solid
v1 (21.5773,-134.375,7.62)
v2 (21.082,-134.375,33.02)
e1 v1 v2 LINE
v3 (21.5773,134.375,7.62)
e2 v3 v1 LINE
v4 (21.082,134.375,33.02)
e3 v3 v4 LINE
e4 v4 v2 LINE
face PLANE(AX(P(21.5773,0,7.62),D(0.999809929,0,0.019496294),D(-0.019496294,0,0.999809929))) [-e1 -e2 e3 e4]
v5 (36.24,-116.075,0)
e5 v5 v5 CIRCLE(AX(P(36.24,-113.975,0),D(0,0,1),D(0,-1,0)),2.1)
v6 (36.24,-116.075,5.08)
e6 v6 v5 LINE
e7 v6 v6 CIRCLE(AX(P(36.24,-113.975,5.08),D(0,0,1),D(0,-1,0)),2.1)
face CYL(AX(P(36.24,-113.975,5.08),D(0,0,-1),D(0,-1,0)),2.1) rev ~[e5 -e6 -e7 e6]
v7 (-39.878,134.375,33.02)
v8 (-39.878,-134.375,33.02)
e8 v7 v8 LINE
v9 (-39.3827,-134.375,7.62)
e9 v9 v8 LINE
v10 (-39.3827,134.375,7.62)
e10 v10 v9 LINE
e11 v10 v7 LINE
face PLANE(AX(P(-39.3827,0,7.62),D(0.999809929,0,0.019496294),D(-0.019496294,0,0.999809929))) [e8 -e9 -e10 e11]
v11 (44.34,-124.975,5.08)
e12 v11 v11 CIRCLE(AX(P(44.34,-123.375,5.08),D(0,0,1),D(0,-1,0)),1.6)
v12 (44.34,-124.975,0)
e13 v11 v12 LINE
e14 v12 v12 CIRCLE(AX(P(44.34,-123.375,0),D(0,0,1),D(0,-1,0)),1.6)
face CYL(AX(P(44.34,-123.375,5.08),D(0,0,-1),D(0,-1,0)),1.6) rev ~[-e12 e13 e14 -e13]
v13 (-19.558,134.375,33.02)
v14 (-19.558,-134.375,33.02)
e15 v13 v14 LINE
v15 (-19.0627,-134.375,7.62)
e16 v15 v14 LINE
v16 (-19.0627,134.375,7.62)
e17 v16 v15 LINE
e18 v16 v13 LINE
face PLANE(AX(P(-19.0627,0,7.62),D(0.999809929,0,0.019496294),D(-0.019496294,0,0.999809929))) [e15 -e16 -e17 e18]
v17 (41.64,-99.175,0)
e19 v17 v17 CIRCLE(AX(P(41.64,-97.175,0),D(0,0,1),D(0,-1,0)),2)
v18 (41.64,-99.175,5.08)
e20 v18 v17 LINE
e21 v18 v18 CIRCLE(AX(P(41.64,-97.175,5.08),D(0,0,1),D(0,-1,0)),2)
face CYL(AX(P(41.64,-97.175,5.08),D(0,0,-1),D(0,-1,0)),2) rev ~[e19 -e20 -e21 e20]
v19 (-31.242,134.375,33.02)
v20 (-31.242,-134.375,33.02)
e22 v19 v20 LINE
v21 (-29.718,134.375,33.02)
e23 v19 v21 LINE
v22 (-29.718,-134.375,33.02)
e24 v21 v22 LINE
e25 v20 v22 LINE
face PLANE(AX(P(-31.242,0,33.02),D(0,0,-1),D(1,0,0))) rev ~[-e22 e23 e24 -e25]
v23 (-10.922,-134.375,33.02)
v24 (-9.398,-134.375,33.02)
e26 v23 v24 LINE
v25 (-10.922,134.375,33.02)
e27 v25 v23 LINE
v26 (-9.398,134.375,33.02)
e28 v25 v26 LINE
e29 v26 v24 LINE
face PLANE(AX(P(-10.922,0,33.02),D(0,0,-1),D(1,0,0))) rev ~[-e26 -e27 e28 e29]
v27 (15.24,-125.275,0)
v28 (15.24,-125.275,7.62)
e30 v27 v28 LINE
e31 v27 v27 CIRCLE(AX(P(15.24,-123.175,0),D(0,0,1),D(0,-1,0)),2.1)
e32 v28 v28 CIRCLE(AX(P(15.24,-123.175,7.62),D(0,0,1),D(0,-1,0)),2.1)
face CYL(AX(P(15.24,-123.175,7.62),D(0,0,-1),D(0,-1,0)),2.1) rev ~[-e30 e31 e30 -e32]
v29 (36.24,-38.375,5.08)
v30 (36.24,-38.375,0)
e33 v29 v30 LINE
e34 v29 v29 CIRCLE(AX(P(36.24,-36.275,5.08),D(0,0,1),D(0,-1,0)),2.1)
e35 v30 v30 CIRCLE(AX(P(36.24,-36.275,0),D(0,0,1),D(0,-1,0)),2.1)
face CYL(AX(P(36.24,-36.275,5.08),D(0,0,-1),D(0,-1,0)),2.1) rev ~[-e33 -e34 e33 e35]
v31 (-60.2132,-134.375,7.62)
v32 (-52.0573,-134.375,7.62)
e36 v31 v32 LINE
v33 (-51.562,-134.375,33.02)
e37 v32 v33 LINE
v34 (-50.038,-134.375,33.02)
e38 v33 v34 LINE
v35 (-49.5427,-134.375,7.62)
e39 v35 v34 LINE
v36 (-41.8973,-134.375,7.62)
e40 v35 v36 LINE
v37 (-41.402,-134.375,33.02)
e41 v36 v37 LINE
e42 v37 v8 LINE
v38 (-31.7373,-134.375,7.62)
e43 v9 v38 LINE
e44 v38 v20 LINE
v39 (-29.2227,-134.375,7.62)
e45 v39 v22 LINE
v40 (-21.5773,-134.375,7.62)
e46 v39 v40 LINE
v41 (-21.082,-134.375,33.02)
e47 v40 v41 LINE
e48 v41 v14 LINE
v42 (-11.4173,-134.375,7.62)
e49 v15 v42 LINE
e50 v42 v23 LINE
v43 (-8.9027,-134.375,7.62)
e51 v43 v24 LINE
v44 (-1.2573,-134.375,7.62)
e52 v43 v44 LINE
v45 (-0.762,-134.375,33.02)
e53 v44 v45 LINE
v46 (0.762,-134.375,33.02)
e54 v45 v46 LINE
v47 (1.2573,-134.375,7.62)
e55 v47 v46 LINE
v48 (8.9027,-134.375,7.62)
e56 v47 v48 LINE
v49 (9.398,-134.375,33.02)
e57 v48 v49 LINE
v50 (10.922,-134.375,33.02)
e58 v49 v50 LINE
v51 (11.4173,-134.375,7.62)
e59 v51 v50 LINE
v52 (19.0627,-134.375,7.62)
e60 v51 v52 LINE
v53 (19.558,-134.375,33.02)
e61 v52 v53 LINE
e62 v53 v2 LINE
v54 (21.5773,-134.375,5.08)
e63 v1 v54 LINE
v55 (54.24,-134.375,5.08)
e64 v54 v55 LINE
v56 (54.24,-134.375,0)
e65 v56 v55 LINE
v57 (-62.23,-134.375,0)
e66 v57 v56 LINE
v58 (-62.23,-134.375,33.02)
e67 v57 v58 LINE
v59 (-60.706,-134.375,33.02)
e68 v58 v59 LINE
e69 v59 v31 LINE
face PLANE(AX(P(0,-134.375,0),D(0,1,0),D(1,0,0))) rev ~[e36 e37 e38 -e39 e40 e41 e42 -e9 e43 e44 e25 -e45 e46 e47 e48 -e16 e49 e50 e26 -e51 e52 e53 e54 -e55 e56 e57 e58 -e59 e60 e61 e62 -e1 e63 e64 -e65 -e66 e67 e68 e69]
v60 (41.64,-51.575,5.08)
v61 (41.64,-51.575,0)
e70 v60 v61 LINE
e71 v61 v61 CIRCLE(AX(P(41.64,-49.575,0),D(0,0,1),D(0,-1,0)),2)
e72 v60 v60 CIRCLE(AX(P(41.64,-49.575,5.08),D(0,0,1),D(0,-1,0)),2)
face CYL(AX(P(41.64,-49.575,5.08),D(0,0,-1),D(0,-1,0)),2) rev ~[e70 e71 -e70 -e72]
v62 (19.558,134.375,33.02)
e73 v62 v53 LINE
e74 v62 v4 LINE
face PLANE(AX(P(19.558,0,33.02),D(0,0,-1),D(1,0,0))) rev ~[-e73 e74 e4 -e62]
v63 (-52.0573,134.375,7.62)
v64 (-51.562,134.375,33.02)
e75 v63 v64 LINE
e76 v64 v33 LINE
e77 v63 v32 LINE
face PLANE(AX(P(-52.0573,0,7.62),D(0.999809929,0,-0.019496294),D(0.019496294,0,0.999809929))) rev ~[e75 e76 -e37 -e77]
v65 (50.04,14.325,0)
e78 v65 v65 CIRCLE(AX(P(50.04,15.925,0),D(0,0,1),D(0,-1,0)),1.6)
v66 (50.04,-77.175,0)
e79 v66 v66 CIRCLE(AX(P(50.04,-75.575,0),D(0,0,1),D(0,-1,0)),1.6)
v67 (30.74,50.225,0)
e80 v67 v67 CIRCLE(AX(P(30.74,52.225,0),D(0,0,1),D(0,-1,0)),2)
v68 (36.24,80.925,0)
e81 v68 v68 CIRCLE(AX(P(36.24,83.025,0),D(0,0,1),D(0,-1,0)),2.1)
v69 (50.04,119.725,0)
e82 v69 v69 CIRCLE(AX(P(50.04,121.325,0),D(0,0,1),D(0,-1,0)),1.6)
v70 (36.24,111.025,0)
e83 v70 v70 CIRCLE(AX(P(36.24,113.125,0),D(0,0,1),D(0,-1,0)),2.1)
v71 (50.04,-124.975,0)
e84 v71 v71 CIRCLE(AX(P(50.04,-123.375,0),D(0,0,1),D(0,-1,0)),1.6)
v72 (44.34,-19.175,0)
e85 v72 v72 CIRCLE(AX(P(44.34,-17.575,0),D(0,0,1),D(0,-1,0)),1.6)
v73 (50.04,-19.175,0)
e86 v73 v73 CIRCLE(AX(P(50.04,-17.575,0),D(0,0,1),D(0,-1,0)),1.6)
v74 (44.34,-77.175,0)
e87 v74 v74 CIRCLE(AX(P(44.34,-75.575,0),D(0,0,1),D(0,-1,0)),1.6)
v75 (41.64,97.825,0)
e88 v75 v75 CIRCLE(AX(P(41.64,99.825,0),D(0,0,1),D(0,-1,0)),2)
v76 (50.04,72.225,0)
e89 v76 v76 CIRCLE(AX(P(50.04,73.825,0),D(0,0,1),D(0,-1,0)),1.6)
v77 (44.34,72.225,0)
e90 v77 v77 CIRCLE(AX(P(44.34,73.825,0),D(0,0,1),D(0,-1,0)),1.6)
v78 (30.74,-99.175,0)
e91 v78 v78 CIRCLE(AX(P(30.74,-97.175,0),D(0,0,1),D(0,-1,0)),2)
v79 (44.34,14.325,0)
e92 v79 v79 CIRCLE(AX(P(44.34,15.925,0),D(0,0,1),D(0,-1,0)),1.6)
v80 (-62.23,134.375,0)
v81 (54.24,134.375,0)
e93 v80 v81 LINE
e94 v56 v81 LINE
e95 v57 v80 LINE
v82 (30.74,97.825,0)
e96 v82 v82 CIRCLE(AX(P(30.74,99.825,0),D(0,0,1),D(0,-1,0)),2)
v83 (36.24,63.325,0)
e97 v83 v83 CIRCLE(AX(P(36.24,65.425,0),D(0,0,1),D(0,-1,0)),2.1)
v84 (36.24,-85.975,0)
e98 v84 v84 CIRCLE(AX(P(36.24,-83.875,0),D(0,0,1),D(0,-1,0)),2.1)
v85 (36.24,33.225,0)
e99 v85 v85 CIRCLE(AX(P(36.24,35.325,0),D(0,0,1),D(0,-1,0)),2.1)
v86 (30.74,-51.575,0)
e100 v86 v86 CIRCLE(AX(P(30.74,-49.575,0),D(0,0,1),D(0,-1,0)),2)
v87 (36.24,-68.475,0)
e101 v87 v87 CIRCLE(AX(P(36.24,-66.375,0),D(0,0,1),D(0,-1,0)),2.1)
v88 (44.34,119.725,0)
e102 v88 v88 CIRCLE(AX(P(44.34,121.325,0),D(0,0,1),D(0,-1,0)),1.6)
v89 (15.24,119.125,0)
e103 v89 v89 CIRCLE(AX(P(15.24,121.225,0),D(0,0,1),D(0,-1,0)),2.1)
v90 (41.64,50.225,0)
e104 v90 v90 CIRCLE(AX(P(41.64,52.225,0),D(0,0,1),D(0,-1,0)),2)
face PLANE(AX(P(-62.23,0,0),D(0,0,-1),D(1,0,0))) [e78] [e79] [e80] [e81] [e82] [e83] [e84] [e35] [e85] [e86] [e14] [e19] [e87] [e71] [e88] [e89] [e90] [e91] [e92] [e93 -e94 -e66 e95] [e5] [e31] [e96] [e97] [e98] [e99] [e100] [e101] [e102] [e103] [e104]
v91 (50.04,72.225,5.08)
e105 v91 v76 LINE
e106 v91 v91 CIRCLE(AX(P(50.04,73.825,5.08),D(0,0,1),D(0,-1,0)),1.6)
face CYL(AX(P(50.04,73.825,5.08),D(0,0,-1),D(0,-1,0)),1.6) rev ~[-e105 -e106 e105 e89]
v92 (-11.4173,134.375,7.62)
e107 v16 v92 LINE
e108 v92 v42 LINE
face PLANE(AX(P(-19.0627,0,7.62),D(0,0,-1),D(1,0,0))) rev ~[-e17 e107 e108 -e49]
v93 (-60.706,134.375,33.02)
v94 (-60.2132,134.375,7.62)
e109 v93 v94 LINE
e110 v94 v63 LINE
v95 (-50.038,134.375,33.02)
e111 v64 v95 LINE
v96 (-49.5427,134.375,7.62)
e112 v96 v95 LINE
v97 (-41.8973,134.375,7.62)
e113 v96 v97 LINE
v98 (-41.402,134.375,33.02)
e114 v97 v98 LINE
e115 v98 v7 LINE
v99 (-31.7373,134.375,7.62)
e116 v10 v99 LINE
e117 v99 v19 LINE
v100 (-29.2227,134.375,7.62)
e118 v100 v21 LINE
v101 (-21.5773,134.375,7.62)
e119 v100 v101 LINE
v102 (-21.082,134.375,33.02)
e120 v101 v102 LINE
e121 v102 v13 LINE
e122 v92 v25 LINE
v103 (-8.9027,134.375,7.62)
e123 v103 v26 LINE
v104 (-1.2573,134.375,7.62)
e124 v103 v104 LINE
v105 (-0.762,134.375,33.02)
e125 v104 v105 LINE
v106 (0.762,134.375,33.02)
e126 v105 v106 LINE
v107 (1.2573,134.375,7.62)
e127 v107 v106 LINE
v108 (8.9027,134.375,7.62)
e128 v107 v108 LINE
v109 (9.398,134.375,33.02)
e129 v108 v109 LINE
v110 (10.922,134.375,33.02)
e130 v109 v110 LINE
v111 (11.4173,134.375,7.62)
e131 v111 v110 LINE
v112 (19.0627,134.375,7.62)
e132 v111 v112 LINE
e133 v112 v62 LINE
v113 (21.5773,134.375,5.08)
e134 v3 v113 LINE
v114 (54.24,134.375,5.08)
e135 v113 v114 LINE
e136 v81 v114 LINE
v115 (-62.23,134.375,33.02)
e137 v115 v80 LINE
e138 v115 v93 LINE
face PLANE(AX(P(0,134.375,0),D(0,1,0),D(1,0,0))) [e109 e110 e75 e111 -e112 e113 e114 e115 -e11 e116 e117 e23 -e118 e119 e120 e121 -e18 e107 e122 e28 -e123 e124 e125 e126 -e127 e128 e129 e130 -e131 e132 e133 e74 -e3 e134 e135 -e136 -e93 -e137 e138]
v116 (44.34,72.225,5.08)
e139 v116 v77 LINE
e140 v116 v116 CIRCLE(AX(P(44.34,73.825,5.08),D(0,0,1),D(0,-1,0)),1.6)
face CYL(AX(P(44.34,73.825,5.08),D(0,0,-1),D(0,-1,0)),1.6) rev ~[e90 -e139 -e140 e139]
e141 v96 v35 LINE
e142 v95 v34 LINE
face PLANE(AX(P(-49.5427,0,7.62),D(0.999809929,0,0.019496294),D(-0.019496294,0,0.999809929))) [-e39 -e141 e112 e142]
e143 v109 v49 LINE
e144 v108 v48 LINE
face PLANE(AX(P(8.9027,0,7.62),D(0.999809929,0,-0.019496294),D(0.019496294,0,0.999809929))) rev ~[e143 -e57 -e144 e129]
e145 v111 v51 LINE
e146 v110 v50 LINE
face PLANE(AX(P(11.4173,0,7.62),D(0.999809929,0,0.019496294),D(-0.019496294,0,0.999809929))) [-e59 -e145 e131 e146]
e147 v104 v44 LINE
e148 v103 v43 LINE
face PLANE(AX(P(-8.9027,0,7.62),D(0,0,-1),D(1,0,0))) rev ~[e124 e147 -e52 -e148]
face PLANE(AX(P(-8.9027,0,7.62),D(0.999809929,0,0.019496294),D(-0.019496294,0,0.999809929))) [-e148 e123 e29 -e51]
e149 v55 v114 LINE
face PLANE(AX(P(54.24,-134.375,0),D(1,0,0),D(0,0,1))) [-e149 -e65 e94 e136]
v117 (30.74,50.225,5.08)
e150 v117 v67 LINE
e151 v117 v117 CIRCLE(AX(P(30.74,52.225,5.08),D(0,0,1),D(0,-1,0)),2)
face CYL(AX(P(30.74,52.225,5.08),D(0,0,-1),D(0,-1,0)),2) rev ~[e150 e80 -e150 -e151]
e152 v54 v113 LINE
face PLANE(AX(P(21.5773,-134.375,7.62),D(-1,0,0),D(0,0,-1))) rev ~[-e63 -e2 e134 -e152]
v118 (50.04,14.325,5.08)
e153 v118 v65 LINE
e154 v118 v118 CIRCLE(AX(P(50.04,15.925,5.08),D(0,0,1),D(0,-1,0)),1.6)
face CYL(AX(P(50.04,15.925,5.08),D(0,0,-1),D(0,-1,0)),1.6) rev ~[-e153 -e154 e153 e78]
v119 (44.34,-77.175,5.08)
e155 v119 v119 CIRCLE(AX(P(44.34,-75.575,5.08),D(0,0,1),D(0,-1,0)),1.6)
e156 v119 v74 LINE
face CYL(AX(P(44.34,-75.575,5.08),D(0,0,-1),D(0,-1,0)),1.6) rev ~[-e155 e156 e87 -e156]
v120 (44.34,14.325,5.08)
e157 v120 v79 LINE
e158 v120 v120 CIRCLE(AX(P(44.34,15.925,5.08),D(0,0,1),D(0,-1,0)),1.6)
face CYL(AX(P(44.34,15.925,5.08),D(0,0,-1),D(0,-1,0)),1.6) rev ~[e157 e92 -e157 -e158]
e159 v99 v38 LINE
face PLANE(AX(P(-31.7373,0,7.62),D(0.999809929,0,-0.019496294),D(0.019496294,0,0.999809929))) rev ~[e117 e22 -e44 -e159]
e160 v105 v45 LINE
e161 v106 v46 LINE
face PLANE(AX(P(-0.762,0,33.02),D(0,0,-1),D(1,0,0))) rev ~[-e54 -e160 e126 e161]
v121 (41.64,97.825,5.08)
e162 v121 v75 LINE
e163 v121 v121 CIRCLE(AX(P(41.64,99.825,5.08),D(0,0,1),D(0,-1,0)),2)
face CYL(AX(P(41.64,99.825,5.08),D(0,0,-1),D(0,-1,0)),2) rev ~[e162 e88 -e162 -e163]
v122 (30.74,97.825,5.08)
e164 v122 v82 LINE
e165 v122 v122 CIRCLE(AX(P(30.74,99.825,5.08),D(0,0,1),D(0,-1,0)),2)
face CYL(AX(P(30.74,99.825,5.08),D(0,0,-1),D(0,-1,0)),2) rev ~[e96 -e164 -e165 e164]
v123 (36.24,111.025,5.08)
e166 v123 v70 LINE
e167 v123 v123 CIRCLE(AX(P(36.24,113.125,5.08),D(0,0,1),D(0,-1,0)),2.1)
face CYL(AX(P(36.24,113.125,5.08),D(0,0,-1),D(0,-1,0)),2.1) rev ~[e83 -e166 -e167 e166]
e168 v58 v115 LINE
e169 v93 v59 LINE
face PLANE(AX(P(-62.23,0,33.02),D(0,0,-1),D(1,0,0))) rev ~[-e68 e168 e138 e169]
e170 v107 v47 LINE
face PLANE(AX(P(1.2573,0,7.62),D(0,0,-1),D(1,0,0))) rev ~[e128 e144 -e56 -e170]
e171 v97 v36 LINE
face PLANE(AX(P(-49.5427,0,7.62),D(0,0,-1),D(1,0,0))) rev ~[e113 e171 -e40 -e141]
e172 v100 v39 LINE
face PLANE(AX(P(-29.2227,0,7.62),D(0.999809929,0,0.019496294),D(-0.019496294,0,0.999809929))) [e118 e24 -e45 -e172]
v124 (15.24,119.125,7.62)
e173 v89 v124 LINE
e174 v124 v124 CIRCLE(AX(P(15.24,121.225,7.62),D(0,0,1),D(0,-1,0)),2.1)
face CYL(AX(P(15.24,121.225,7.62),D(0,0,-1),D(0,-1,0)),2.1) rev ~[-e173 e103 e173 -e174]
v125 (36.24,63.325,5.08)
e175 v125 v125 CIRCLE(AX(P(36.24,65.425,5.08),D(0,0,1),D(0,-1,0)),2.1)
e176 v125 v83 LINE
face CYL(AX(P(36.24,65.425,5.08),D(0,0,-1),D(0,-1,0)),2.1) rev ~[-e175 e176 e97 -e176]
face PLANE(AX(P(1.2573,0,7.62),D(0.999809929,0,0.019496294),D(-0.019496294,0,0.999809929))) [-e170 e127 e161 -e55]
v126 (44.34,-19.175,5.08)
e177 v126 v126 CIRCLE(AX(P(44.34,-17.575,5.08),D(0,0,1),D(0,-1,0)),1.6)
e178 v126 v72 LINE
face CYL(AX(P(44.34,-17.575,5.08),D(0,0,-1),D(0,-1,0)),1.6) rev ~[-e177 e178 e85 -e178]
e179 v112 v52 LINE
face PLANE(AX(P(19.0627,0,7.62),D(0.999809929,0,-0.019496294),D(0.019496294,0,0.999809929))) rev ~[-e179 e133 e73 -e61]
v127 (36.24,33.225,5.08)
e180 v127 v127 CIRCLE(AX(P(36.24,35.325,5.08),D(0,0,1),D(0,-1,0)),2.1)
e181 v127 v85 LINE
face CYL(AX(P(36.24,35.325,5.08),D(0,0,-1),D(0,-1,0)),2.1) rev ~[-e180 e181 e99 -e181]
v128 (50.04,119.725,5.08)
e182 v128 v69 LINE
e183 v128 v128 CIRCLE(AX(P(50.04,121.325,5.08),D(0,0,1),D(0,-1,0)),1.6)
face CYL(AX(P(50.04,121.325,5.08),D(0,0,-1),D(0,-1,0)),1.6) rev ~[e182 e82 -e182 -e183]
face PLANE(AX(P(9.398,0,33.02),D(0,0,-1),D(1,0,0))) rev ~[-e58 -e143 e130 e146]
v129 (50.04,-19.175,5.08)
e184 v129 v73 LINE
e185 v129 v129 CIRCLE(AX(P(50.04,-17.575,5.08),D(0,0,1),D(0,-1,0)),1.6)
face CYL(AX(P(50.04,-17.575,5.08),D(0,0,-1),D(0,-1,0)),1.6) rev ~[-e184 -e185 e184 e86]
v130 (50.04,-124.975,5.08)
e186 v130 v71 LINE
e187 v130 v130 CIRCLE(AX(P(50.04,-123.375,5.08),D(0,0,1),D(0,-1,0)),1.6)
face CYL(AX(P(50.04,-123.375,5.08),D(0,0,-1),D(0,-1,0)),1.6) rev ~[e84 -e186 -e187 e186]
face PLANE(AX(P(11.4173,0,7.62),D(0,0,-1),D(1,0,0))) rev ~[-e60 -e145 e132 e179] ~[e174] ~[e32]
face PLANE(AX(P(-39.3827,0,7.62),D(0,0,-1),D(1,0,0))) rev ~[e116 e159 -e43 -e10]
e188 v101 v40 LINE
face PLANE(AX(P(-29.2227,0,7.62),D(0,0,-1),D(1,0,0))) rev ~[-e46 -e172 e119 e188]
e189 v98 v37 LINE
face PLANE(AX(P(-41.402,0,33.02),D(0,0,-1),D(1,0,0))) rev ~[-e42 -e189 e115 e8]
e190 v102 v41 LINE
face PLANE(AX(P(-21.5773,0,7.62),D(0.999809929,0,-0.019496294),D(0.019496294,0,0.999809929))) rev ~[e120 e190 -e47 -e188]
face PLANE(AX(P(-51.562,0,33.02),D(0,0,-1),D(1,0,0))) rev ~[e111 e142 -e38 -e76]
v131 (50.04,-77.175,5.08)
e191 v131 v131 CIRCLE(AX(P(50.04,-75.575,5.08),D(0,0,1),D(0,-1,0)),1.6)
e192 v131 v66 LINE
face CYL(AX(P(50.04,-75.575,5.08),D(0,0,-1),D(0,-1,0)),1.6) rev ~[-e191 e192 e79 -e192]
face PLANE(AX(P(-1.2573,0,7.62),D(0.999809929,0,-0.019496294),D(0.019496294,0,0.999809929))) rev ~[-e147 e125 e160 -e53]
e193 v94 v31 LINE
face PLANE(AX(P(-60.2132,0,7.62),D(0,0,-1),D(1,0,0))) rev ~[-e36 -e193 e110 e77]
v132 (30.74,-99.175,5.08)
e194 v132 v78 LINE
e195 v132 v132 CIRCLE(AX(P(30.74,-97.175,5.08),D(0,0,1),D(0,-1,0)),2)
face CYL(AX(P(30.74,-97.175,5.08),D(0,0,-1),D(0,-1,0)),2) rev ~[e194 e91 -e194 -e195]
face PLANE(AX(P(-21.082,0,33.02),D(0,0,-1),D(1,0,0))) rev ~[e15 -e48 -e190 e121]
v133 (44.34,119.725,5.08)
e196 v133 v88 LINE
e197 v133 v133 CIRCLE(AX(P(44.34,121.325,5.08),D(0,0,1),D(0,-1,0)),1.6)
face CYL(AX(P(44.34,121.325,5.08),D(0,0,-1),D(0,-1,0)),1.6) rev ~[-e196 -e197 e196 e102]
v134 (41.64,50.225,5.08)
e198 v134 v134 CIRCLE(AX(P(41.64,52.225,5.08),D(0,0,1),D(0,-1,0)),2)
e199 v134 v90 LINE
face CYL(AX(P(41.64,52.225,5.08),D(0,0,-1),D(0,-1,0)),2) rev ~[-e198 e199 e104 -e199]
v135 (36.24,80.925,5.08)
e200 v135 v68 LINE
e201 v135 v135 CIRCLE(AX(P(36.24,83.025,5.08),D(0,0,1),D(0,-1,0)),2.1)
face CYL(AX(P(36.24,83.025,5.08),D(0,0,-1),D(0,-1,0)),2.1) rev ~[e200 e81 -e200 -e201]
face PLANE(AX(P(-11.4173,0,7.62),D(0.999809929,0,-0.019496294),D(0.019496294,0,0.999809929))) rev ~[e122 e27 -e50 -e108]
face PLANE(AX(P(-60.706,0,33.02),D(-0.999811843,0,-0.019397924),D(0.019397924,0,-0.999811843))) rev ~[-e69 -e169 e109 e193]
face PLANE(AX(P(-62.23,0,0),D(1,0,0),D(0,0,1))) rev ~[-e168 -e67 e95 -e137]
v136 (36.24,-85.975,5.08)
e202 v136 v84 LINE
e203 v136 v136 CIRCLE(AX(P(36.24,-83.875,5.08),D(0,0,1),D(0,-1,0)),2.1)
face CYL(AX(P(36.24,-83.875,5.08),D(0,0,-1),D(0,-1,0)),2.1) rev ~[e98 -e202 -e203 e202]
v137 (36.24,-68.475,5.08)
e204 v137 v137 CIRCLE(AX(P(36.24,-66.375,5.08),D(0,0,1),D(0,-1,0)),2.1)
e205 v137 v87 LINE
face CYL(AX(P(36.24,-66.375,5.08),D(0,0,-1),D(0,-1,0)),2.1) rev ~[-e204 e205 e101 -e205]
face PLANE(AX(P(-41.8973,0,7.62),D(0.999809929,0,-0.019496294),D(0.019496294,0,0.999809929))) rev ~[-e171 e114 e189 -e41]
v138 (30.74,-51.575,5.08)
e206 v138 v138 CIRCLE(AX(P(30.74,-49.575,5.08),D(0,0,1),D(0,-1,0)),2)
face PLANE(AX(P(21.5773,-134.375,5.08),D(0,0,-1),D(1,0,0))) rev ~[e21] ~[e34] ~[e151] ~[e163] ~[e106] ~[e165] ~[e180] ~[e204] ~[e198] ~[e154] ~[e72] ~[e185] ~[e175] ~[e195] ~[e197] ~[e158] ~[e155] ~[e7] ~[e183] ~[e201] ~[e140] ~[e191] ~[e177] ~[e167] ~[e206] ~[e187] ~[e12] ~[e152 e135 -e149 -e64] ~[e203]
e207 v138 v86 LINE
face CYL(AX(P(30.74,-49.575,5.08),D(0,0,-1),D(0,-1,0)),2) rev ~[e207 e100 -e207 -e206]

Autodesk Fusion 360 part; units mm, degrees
sketch "Sketch1" plane through (0, 0, 0) normal (0, 1, 0) x (1, 0, 0)
  line L0 (-62.23, 0) -> (62.23, 0)
  line L1 (-1.2573, -7.62) -> (1.2573, -7.62) construction
  line L2 (0, -7.62) -> (0, -33.02) construction
  line L3 (-0.762, -33.02) -> (0.762, -33.02)
  line L4 (-1.2573, -7.62) -> (-0.762, -33.02)
  line L5 (1.2573, -7.62) -> (0.762, -33.02)
  line L6 (-51.562, -33.02) -> (-50.038, -33.02)
  line L7 (-49.5427, -7.62) -> (-50.038, -33.02)
  line L8 (-52.0573, -7.62) -> (-51.562, -33.02)
  line L9 (-52.0573, -7.62) -> (-49.5427, -7.62) construction
  line L10 (-50.8, -7.62) -> (-50.8, -33.02) construction
  line L11 (-41.402, -33.02) -> (-39.878, -33.02)
  line L12 (-39.3827, -7.62) -> (-39.878, -33.02)
  line L13 (-41.8973, -7.62) -> (-41.402, -33.02)
  line L14 (-41.8973, -7.62) -> (-39.3827, -7.62) construction
  line L15 (-40.64, -7.62) -> (-40.64, -33.02) construction
  line L16 (-31.242, -33.02) -> (-29.718, -33.02)
  line L17 (-29.2227, -7.62) -> (-29.718, -33.02)
  line L18 (-31.7373, -7.62) -> (-31.242, -33.02)
  line L19 (-31.7373, -7.62) -> (-29.2227, -7.62) construction
  line L20 (-30.48, -7.62) -> (-30.48, -33.02) construction
  line L21 (-21.082, -33.02) -> (-19.558, -33.02)
  line L22 (-19.0627, -7.62) -> (-19.558, -33.02)
  line L23 (-21.5773, -7.62) -> (-21.082, -33.02)
  line L24 (-21.5773, -7.62) -> (-19.0627, -7.62) construction
  line L25 (-20.32, -7.62) -> (-20.32, -33.02) construction
  line L26 (-10.922, -33.02) -> (-9.398, -33.02)
  line L27 (-8.9027, -7.62) -> (-9.398, -33.02)
  line L28 (-11.4173, -7.62) -> (-10.922, -33.02)
  line L29 (-11.4173, -7.62) -> (-8.9027, -7.62) construction
  line L30 (-10.16, -7.62) -> (-10.16, -33.02) construction
  line L31 (9.398, -33.02) -> (10.922, -33.02)
  line L32 (11.4173, -7.62) -> (10.922, -33.02)
  line L33 (8.9027, -7.62) -> (9.398, -33.02)
  line L34 (8.9027, -7.62) -> (11.4173, -7.62) construction
  line L35 (10.16, -7.62) -> (10.16, -33.02) construction
  line L36 (19.558, -33.02) -> (21.082, -33.02)
  line L37 (21.5773, -7.62) -> (21.082, -33.02)
  line L38 (19.0627, -7.62) -> (19.558, -33.02)
  line L39 (19.0627, -7.62) -> (21.5773, -7.62) construction
  line L40 (20.32, -7.62) -> (20.32, -33.02) construction
  line L41 (29.718, -33.02) -> (31.242, -33.02)
  line L42 (31.7373, -7.62) -> (31.242, -33.02)
  line L43 (29.2227, -7.62) -> (29.718, -33.02)
  line L44 (29.2227, -7.62) -> (31.7373, -7.62) construction
  line L45 (30.48, -7.62) -> (30.48, -33.02) construction
  line L46 (39.878, -33.02) -> (41.402, -33.02)
  line L47 (41.8973, -7.62) -> (41.402, -33.02)
  line L48 (39.3827, -7.62) -> (39.878, -33.02)
  line L49 (39.3827, -7.62) -> (41.8973, -7.62) construction
  line L50 (40.64, -7.62) -> (40.64, -33.02) construction
  line L51 (50.038, -33.02) -> (51.562, -33.02)
  line L52 (52.0573, -7.62) -> (51.562, -33.02)
  line L53 (49.5427, -7.62) -> (50.038, -33.02)
  line L54 (49.5427, -7.62) -> (52.0573, -7.62) construction
  line L55 (50.8, -7.62) -> (50.8, -33.02) construction
  line L56 (-62.23, 0) -> (-62.23, -7.62)
  line L57 (62.23, 0) -> (62.23, -7.62)
  line L58 (-62.23, -7.62) -> (-62.23, -33.02)
  line L59 (62.23, -7.62) -> (62.23, -33.02)
  line L60 (-49.5427, -7.62) -> (-41.8973, -7.62)
  line L61 (-39.3827, -7.62) -> (-31.7373, -7.62)
  line L62 (-29.2227, -7.62) -> (-21.5773, -7.62)
  line L63 (-19.0627, -7.62) -> (-11.4173, -7.62)
  line L64 (-8.9027, -7.62) -> (-1.2573, -7.62)
  line L65 (1.2573, -7.62) -> (8.9027, -7.62)
  line L66 (11.4173, -7.62) -> (19.0627, -7.62)
  line L67 (21.5773, -7.62) -> (29.2227, -7.62)
  line L68 (31.7373, -7.62) -> (39.3827, -7.62)
  line L69 (41.8973, -7.62) -> (49.5427, -7.62)
  line L70 (62.23, -33.02) -> (60.706, -33.02)
  line L71 (60.706, -33.02) -> (60.2132, -7.62)
  line L72 (60.2132, -7.62) -> (52.0573, -7.62)
  line L73 (-62.23, -33.02) -> (-60.706, -33.02)
  line L74 (-60.706, -33.02) -> (-60.2132, -7.62)
  line L75 (-60.2132, -7.62) -> (-52.0573, -7.62)
  line L76 (60.2132, -7.62) -> (62.23, -7.62) construction
  line L77 (-60.2132, -7.62) -> (-62.23, -7.62) construction
  dimension "d2" = 124.46
  dimension "d7" = 1.524
  dimension "d8" = 2.5146
  dimension "d10" = 25.4
  dimension "d14" = 10.16
  dimension "d15" = 0
  dimension "d16" = 7.62
  dimension "d17" = 25.4
  dimension "d20" = 2.0168
  dimension "d21" = 1.524
extrude "Extrude1" add sketch "Sketch1" along normal mid plane 268.75
sketch "Sketch2" plane through (0, -134.375, 0) normal (0, -1, 0) x (1, 0, 0)
  line L0 (-62.23, 33.02) -> (-62.23, 0)
  line L1 (-62.23, 0) -> (62.23, 0)
  line L2 (62.23, 0) -> (62.23, 33.02)
  line L3 (62.23, 33.02) -> (60.706, 33.02)
  line L4 (60.706, 33.02) -> (60.2132, 7.62)
  line L5 (60.2132, 7.62) -> (52.0573, 7.62)
  line L6 (52.0573, 7.62) -> (51.562, 33.02)
  line L7 (51.562, 33.02) -> (50.038, 33.02)
  line L8 (50.038, 33.02) -> (49.5427, 7.62)
  line L9 (49.5427, 7.62) -> (41.8973, 7.62)
  line L10 (41.8973, 7.62) -> (41.402, 33.02)
  line L11 (41.402, 33.02) -> (39.878, 33.02)
  line L12 (39.878, 33.02) -> (39.3827, 7.62)
  line L13 (39.3827, 7.62) -> (31.7373, 7.62)
  line L14 (31.7373, 7.62) -> (31.242, 33.02)
  line L15 (31.242, 33.02) -> (29.718, 33.02)
  line L16 (29.718, 33.02) -> (29.2227, 7.62)
  line L17 (29.2227, 7.62) -> (21.5773, 7.62)
  line L18 (21.5773, 7.62) -> (21.082, 33.02)
  line L19 (21.082, 33.02) -> (19.558, 33.02)
  line L20 (19.558, 33.02) -> (19.0627, 7.62)
  line L21 (19.0627, 7.62) -> (11.4173, 7.62)
  line L22 (11.4173, 7.62) -> (10.922, 33.02)
  line L23 (10.922, 33.02) -> (9.398, 33.02)
  line L24 (9.398, 33.02) -> (8.9027, 7.62)
  line L25 (8.9027, 7.62) -> (1.2573, 7.62)
  line L26 (1.2573, 7.62) -> (0.762, 33.02)
  line L27 (0.762, 33.02) -> (-0.762, 33.02)
  line L28 (-0.762, 33.02) -> (-1.2573, 7.62)
  line L29 (-1.2573, 7.62) -> (-8.9027, 7.62)
  line L30 (-8.9027, 7.62) -> (-9.398, 33.02)
  line L31 (-9.398, 33.02) -> (-10.922, 33.02)
  line L32 (-10.922, 33.02) -> (-11.4173, 7.62)
  line L33 (-11.4173, 7.62) -> (-19.0627, 7.62)
  line L34 (-19.0627, 7.62) -> (-19.558, 33.02)
  line L35 (-19.558, 33.02) -> (-21.082, 33.02)
  line L36 (-21.082, 33.02) -> (-21.5773, 7.62)
  line L37 (-21.5773, 7.62) -> (-29.2227, 7.62)
  line L38 (-29.2227, 7.62) -> (-29.718, 33.02)
  line L39 (-29.718, 33.02) -> (-31.242, 33.02)
  line L40 (-31.242, 33.02) -> (-31.7373, 7.62)
  line L41 (-31.7373, 7.62) -> (-39.3827, 7.62)
  line L42 (-39.3827, 7.62) -> (-39.878, 33.02)
  line L43 (-39.878, 33.02) -> (-41.402, 33.02)
  line L44 (-41.402, 33.02) -> (-41.8973, 7.62)
  line L45 (-41.8973, 7.62) -> (-49.5427, 7.62)
  line L46 (-49.5427, 7.62) -> (-50.038, 33.02)
  line L47 (-50.038, 33.02) -> (-51.562, 33.02)
  line L48 (-51.562, 33.02) -> (-52.0573, 7.62)
  line L49 (-52.0573, 7.62) -> (-60.2132, 7.62)
  line L50 (-60.2132, 7.62) -> (-60.706, 33.02)
  line L51 (-60.706, 33.02) -> (-62.23, 33.02)
  line L52 (-62.23, 0) -> (21.5773, 0) construction
  line L53 (21.5773, 0) -> (54.24, 0) construction
  line L54 (54.24, 0) -> (54.24, 5.08) construction
  line L55 (54.24, 5.08) -> (21.5773, 5.08) construction
  line L56 (21.5773, 5.08) -> (21.5773, 0) construction
  line L57 (62.23, 5.08) -> (62.23, 38.1)
  line L58 (62.23, 38.1) -> (21.5773, 38.1)
  line L59 (21.5773, 38.1) -> (21.5773, 5.08)
  line L60 (62.23, 5.08) -> (62.23, 0)
  line L61 (62.23, 0) -> (54.24, 0)
  line L62 (54.24, 0) -> (54.24, 5.08)
  line L63 (62.23, 7.62) -> (62.23, 33.02)
  line L64 (62.23, 0) -> (62.23, 7.62)
  line L65 (21.5773, 5.08) -> (54.24, 5.08)
  line L66 (54.24, 0) -> (62.23, 0)
  line L67 (15.24, 7.62) -> (15.24, 0) construction
  point P0 (-62.23, 7.62)
  point P1 (62.23, 7.62)
  point P2 (60.2132, 7.62)
  point P3 (52.0573, 7.62)
  point P4 (49.5427, 7.62)
  point P5 (41.8973, 7.62)
  point P6 (39.3827, 7.62)
  point P7 (31.7373, 7.62)
  point P8 (29.2227, 7.62)
  dimension "d29" = 5.08
  dimension "d30" = 33.02
  dimension "d79" = 39
extrude "Extrude2" cut sketch "Sketch2" against normal up to surface (268.75 mm away) contours L1 L2 L3 L4 L5 L6 L7 L8 L9 L10 L11 L12 L13 L14 L15 L16 L17 L57 L59 L60 L61 L62 L63 L64 L65 L66
sketch "Sketch3" plane through (0, 0, 5.08) normal (0, 0, 1) x (-1, 0, 0)
  line L0 (-54.24, -134.375) -> (-21.5773, -134.375)
  line L1 (-21.5773, -134.375) -> (-21.5773, 134.375)
  line L2 (-21.5773, 134.375) -> (-54.24, 134.375)
  line L3 (-54.24, 134.375) -> (-54.24, -134.375)
  line L4 (-50.04, 134.375) -> (-50.04, -134.375) construction
  line L5 (-44.34, 134.375) -> (-44.34, -134.375) construction
  line L6 (-41.64, 134.375) -> (-41.64, -134.375) construction
  line L7 (-36.24, 134.375) -> (-36.24, -134.375) construction
  line L8 (-30.74, 134.375) -> (-30.74, -134.375) construction
  line L9 (-15.24, 134.375) -> (-15.24, -134.375) construction
  line L10 (-54.24, -134.375) -> (-21.5773, -134.375)
  line L11 (-21.5773, -134.375) -> (-21.5773, 134.375)
  line L12 (-21.5773, 134.375) -> (-54.24, 134.375)
  line L13 (-54.24, 134.375) -> (-54.24, -134.375)
  circle A0 centre (-50.04, 123.375) radius 1.6
  circle A1 centre (-50.04, 75.575) radius 1.6
  circle A2 centre (-50.04, 17.575) radius 1.6
  circle A3 centre (-50.04, -15.925) radius 1.6
  circle A4 centre (-50.04, -73.825) radius 1.6
  circle A5 centre (-50.04, -121.325) radius 1.6
  circle A6 centre (-44.34, 123.375) radius 1.6
  circle A7 centre (-44.34, 75.575) radius 1.6
  circle A8 centre (-44.34, 17.575) radius 1.6
  circle A9 centre (-44.34, -15.925) radius 1.6
  circle A10 centre (-44.34, -73.825) radius 1.6
  circle A11 centre (-44.34, -121.325) radius 1.6
  line L14 (-50.04, 123.375) -> (-44.34, 123.375) construction
  line L15 (-50.04, 75.575) -> (-44.34, 75.575) construction
  line L16 (-50.04, 17.575) -> (-44.34, 17.575) construction
  line L17 (-50.04, -15.925) -> (-44.34, -15.925) construction
  line L18 (-50.04, -73.825) -> (-44.34, -73.825) construction
  line L19 (-50.04, -121.325) -> (-44.34, -121.325) construction
  line L20 (-30.74, 97.175) -> (-41.64, 97.175) construction
  line L21 (-30.74, 49.575) -> (-41.64, 49.575) construction
  line L22 (-30.74, -52.225) -> (-41.64, -52.225) construction
  line L23 (-30.74, -99.825) -> (-41.64, -99.825) construction
  circle A12 centre (-41.64, 97.175) radius 2
  circle A13 centre (-30.74, 49.575) radius 2
  circle A14 centre (-30.74, -52.225) radius 2
  circle A15 centre (-30.74, -99.825) radius 2
  circle A16 centre (-30.74, 97.175) radius 2
  circle A17 centre (-41.64, 49.575) radius 2
  circle A18 centre (-41.64, -52.225) radius 2
  circle A19 centre (-41.64, -99.825) radius 2
  circle A20 centre (-36.24, 113.975) radius 2.1
  circle A21 centre (-36.24, 83.875) radius 2.1
  circle A22 centre (-36.24, 66.375) radius 2.1
  circle A23 centre (-36.24, 36.275) radius 2.1
  circle A24 centre (-36.24, -35.325) radius 2.1
  circle A25 centre (-36.24, -65.425) radius 2.1
  circle A26 centre (-15.24, 123.175) radius 2.1
  circle A27 centre (-15.24, -121.225) radius 2.1
  circle A28 centre (-36.24, -83.025) radius 2.1
  circle A29 centre (-36.24, -113.125) radius 2.1
  point P0 (62.23, 134.375)
  dimension "d73" = 4.2
  dimension "d74" = 9.9
  dimension "d75" = 12.6
  dimension "d76" = 18
  dimension "d77" = 23.5
  dimension "d78" = 39
  dimension "d87" = 3.2
  dimension "d94" = 11
  dimension "d95" = 58.8
  dimension "d96" = 116.8
  dimension "d97" = 150.3
  dimension "d98" = 208.2
  dimension "d99" = 255.7
  dimension "d100" = 37.2
  dimension "d101" = 84.8
  dimension "d102" = 186.6
  dimension "d103" = 234.2
  dimension "d104" = 4
  dimension "d105" = 4.2
  dimension "d106" = 20.4
  dimension "d107" = 50.5
  dimension "d108" = 68
  dimension "d109" = 98.1
  dimension "d110" = 169.7
  dimension "d111" = 199.8
  dimension "d112" = 217.4
  dimension "d113" = 247.5
  dimension "d114" = 11.2
  dimension "d115" = 255.6
  dimension "d116" = 4.2
  dimension "d117" = 4
  dimension "d118" = 3.2
hole "Hole1" at (50.04, -123.375, 5.08) at (50.04, -75.575, 5.08) at (50.04, -17.575, 5.08) at (50.04, 15.925, 5.08) at (50.04, 73.825, 5.08) at (50.04, 121.325, 5.08) direction (0, 0, -1) diameter 3.2 end through all
hole "Hole2" at (44.34, -123.375, 5.08) at (44.34, -75.575, 5.08) at (44.34, -17.575, 5.08) at (44.34, 15.925, 5.08) at (44.34, 73.825, 5.08) at (44.34, 121.325, 5.08) direction (0, 0, -1) diameter 3.2 end through all
hole "Hole3" at (41.64, -97.175, 5.08) at (41.64, -49.575, 5.08) at (41.64, 52.225, 5.08) at (41.64, 99.825, 5.08) direction (0, 0, -1) diameter 4 end through all
hole "Hole4" at (36.24, -113.975, 5.08) at (36.24, -83.875, 5.08) at (36.24, -66.375, 5.08) at (36.24, -36.275, 5.08) at (36.24, 35.325, 5.08) at (36.24, 65.425, 5.08) at (36.24, 83.025, 5.08) at (36.24, 113.125, 5.08) direction (0, 0, -1) diameter 4.2 end through all
hole "Hole5" at (30.74, -97.175, 5.08) at (30.74, -49.575, 5.08) at (30.74, 52.225, 5.08) at (30.74, 99.825, 5.08) direction (0, 0, -1) diameter 4 end through all
sketch "Sketch4" plane through (0, 0, 7.62) normal (0, 0, 1) x (-1, 0, 0)
  line L0 (-19.0627, 134.375) -> (-19.0627, -134.375)
  line L1 (-19.0627, -134.375) -> (-11.4173, -134.375)
  line L2 (-11.4173, -134.375) -> (-11.4173, 134.375)
  line L3 (-11.4173, 134.375) -> (-19.0627, 134.375)
  point P0 (-15.24, 123.175)
  point P1 (-15.24, -121.225)
  point P2 (-15.24, 123.175)
  point P3 (-15.24, -121.225)
hole "Hole7" at (15.24, -123.175, 7.62) at (15.24, 121.225, 7.62) direction (0, 0, -1) diameter 4.2 end through all
hole "Hole6" at (15.24, -123.175, 5.08) at (15.24, 121.225, 5.08) direction (0, 0, -1) diameter 4.2 depth 5.08 tip angle 118
extrude "Extrude3" cut sketch "Sketch3" along normal up to surface (2.54 mm away) and the other way up to surface (5.08 mm away) contours A0 | A1 | A2 | A3 | A4 | A5 | A6 | A7 | A8 | A9 | A10 | A11 | A12 | A13 | A14 | A15 | A16 | A17 | A18 | A19 | A20 | A21 | A22 | A23 | A24 | A25 | A26 | A27 | A28 | A29
equation "ProfileWidth = 4.9 in"
equation "d2 = ProfileWidth"
equation "BaseThickness = 0.3 in"
equation "FinWidthTip = 0.06 in"
equation "FinWidthBase = 0.099 in"
equation "d7 = FinWidthTip"
equation "d8 = FinWidthBase"
equation "FinLength = 1 in"
equation "d10 = FinLength"
equation "FinSpacing = 0.4 in"
equation "d14 = FinSpacing"
equation "d16 = BaseThickness"
equation "d17 = FinLength"
equation "EndFinWidthBase = 0.0794 in"
equation "d20 = EndFinWidthBase"
equation "d21 = FinWidthTip"
equation "HeatsinkKeepWidth = 81.9 mm"
equation "FlatHeight = 0.2 in"
equation "FlatDepth = 32.90 mm"
equation "d29 = FlatHeight"
equation "d30 = BaseThickness + FinLength"
equation "DezRow1 = 4.2 mm"
equation "DezRow2 = 9.9 mm"
equation "DezRow3 = 12.6 mm"
equation "DezRow4 = 18 mm"
equation "DezRow5 = 23.5 mm"
equation "DezRow6 = 39 mm"
equation "Dez1Left = 11 mm"
equation "Dez2Left = 58.8 mm"
equation "Dez3Left = 116.8 mm"
equation "Dez4Left = 150.3 mm"
equation "Dez5Left = 208.2 mm"
equation "Dez6Left = 255.7 mm"
equation "Dez7ALeft = 11.2 mm"
equation "Dez7BLeft = 255.6 mm"
equation "Dez8ALeft = 20.4 mm"
equation "Dez8BLeft = 50.5 mm"
equation "Dez9ALeft = 68.0 mm"
equation "Dez9BLeft = 98.1 mm"
equation "Dez10ALeft = 169.7 mm"
equation "Dez10BLeft = 199.8 mm"
equation "Dez11ALeft = 217.4 mm"
equation "Dez11BLeft = 247.5 mm"
equation "Dez12Left = 37.2 mm"
equation "Dez13Left = 84.8 mm"
equation "Dez14Left = 186.6 mm"
equation "Dez15Left = 234.2 mm"
equation "d73 = DezRow1"
equation "d74 = DezRow2"
equation "d75 = DezRow3"
equation "d76 = DezRow4"
equation "d77 = DezRow5"
equation "d78 = DezRow6"
equation "d79 = DezRow6"
equation "DezRow1Diameter = 3.2 mm"
equation "DezRow2Diameter = DezRow1Diameter"
equation "DezRow3Diameter = 4 mm"
equation "DezRow4Diameter = 4.2 mm"
equation "DezRow5Diameter = DezRow3Diameter"
equation "DezRow6Diameter = 4.2 mm"
equation "d87 = DezRow1Diameter"
equation "d94 = Dez1Left"
equation "d95 = Dez2Left"
equation "d96 = Dez3Left"
equation "d97 = Dez4Left"
equation "d98 = Dez5Left"
equation "d99 = Dez6Left"
equation "d100 = Dez12Left"
equation "d101 = Dez13Left"
equation "d102 = Dez14Left"
equation "d103 = Dez15Left"
equation "d104 = DezRow3Diameter"
equation "d105 = DezRow4Diameter"
equation "d106 = Dez8ALeft"
equation "d107 = Dez8BLeft"
equation "d108 = Dez9ALeft"
equation "d109 = Dez9BLeft"
equation "d110 = Dez10ALeft"
equation "d111 = Dez10BLeft"
equation "d112 = Dez11ALeft"
equation "d113 = Dez11BLeft"
equation "d114 = Dez7ALeft"
equation "d115 = Dez7BLeft"
equation "d116 = DezRow6Diameter"
equation "d117 = DezRow5Diameter"
equation "d118 = DezRow2Diameter"
equation "d123 = DezRow1Diameter"
equation "d125 = DezRow2Diameter"
equation "d127 = DezRow3Diameter"
equation "d129 = DezRow4Diameter"
equation "d131 = DezRow5Diameter"
equation "d133 = DezRow6Diameter"
equation "d136 = DezRow6Diameter"
